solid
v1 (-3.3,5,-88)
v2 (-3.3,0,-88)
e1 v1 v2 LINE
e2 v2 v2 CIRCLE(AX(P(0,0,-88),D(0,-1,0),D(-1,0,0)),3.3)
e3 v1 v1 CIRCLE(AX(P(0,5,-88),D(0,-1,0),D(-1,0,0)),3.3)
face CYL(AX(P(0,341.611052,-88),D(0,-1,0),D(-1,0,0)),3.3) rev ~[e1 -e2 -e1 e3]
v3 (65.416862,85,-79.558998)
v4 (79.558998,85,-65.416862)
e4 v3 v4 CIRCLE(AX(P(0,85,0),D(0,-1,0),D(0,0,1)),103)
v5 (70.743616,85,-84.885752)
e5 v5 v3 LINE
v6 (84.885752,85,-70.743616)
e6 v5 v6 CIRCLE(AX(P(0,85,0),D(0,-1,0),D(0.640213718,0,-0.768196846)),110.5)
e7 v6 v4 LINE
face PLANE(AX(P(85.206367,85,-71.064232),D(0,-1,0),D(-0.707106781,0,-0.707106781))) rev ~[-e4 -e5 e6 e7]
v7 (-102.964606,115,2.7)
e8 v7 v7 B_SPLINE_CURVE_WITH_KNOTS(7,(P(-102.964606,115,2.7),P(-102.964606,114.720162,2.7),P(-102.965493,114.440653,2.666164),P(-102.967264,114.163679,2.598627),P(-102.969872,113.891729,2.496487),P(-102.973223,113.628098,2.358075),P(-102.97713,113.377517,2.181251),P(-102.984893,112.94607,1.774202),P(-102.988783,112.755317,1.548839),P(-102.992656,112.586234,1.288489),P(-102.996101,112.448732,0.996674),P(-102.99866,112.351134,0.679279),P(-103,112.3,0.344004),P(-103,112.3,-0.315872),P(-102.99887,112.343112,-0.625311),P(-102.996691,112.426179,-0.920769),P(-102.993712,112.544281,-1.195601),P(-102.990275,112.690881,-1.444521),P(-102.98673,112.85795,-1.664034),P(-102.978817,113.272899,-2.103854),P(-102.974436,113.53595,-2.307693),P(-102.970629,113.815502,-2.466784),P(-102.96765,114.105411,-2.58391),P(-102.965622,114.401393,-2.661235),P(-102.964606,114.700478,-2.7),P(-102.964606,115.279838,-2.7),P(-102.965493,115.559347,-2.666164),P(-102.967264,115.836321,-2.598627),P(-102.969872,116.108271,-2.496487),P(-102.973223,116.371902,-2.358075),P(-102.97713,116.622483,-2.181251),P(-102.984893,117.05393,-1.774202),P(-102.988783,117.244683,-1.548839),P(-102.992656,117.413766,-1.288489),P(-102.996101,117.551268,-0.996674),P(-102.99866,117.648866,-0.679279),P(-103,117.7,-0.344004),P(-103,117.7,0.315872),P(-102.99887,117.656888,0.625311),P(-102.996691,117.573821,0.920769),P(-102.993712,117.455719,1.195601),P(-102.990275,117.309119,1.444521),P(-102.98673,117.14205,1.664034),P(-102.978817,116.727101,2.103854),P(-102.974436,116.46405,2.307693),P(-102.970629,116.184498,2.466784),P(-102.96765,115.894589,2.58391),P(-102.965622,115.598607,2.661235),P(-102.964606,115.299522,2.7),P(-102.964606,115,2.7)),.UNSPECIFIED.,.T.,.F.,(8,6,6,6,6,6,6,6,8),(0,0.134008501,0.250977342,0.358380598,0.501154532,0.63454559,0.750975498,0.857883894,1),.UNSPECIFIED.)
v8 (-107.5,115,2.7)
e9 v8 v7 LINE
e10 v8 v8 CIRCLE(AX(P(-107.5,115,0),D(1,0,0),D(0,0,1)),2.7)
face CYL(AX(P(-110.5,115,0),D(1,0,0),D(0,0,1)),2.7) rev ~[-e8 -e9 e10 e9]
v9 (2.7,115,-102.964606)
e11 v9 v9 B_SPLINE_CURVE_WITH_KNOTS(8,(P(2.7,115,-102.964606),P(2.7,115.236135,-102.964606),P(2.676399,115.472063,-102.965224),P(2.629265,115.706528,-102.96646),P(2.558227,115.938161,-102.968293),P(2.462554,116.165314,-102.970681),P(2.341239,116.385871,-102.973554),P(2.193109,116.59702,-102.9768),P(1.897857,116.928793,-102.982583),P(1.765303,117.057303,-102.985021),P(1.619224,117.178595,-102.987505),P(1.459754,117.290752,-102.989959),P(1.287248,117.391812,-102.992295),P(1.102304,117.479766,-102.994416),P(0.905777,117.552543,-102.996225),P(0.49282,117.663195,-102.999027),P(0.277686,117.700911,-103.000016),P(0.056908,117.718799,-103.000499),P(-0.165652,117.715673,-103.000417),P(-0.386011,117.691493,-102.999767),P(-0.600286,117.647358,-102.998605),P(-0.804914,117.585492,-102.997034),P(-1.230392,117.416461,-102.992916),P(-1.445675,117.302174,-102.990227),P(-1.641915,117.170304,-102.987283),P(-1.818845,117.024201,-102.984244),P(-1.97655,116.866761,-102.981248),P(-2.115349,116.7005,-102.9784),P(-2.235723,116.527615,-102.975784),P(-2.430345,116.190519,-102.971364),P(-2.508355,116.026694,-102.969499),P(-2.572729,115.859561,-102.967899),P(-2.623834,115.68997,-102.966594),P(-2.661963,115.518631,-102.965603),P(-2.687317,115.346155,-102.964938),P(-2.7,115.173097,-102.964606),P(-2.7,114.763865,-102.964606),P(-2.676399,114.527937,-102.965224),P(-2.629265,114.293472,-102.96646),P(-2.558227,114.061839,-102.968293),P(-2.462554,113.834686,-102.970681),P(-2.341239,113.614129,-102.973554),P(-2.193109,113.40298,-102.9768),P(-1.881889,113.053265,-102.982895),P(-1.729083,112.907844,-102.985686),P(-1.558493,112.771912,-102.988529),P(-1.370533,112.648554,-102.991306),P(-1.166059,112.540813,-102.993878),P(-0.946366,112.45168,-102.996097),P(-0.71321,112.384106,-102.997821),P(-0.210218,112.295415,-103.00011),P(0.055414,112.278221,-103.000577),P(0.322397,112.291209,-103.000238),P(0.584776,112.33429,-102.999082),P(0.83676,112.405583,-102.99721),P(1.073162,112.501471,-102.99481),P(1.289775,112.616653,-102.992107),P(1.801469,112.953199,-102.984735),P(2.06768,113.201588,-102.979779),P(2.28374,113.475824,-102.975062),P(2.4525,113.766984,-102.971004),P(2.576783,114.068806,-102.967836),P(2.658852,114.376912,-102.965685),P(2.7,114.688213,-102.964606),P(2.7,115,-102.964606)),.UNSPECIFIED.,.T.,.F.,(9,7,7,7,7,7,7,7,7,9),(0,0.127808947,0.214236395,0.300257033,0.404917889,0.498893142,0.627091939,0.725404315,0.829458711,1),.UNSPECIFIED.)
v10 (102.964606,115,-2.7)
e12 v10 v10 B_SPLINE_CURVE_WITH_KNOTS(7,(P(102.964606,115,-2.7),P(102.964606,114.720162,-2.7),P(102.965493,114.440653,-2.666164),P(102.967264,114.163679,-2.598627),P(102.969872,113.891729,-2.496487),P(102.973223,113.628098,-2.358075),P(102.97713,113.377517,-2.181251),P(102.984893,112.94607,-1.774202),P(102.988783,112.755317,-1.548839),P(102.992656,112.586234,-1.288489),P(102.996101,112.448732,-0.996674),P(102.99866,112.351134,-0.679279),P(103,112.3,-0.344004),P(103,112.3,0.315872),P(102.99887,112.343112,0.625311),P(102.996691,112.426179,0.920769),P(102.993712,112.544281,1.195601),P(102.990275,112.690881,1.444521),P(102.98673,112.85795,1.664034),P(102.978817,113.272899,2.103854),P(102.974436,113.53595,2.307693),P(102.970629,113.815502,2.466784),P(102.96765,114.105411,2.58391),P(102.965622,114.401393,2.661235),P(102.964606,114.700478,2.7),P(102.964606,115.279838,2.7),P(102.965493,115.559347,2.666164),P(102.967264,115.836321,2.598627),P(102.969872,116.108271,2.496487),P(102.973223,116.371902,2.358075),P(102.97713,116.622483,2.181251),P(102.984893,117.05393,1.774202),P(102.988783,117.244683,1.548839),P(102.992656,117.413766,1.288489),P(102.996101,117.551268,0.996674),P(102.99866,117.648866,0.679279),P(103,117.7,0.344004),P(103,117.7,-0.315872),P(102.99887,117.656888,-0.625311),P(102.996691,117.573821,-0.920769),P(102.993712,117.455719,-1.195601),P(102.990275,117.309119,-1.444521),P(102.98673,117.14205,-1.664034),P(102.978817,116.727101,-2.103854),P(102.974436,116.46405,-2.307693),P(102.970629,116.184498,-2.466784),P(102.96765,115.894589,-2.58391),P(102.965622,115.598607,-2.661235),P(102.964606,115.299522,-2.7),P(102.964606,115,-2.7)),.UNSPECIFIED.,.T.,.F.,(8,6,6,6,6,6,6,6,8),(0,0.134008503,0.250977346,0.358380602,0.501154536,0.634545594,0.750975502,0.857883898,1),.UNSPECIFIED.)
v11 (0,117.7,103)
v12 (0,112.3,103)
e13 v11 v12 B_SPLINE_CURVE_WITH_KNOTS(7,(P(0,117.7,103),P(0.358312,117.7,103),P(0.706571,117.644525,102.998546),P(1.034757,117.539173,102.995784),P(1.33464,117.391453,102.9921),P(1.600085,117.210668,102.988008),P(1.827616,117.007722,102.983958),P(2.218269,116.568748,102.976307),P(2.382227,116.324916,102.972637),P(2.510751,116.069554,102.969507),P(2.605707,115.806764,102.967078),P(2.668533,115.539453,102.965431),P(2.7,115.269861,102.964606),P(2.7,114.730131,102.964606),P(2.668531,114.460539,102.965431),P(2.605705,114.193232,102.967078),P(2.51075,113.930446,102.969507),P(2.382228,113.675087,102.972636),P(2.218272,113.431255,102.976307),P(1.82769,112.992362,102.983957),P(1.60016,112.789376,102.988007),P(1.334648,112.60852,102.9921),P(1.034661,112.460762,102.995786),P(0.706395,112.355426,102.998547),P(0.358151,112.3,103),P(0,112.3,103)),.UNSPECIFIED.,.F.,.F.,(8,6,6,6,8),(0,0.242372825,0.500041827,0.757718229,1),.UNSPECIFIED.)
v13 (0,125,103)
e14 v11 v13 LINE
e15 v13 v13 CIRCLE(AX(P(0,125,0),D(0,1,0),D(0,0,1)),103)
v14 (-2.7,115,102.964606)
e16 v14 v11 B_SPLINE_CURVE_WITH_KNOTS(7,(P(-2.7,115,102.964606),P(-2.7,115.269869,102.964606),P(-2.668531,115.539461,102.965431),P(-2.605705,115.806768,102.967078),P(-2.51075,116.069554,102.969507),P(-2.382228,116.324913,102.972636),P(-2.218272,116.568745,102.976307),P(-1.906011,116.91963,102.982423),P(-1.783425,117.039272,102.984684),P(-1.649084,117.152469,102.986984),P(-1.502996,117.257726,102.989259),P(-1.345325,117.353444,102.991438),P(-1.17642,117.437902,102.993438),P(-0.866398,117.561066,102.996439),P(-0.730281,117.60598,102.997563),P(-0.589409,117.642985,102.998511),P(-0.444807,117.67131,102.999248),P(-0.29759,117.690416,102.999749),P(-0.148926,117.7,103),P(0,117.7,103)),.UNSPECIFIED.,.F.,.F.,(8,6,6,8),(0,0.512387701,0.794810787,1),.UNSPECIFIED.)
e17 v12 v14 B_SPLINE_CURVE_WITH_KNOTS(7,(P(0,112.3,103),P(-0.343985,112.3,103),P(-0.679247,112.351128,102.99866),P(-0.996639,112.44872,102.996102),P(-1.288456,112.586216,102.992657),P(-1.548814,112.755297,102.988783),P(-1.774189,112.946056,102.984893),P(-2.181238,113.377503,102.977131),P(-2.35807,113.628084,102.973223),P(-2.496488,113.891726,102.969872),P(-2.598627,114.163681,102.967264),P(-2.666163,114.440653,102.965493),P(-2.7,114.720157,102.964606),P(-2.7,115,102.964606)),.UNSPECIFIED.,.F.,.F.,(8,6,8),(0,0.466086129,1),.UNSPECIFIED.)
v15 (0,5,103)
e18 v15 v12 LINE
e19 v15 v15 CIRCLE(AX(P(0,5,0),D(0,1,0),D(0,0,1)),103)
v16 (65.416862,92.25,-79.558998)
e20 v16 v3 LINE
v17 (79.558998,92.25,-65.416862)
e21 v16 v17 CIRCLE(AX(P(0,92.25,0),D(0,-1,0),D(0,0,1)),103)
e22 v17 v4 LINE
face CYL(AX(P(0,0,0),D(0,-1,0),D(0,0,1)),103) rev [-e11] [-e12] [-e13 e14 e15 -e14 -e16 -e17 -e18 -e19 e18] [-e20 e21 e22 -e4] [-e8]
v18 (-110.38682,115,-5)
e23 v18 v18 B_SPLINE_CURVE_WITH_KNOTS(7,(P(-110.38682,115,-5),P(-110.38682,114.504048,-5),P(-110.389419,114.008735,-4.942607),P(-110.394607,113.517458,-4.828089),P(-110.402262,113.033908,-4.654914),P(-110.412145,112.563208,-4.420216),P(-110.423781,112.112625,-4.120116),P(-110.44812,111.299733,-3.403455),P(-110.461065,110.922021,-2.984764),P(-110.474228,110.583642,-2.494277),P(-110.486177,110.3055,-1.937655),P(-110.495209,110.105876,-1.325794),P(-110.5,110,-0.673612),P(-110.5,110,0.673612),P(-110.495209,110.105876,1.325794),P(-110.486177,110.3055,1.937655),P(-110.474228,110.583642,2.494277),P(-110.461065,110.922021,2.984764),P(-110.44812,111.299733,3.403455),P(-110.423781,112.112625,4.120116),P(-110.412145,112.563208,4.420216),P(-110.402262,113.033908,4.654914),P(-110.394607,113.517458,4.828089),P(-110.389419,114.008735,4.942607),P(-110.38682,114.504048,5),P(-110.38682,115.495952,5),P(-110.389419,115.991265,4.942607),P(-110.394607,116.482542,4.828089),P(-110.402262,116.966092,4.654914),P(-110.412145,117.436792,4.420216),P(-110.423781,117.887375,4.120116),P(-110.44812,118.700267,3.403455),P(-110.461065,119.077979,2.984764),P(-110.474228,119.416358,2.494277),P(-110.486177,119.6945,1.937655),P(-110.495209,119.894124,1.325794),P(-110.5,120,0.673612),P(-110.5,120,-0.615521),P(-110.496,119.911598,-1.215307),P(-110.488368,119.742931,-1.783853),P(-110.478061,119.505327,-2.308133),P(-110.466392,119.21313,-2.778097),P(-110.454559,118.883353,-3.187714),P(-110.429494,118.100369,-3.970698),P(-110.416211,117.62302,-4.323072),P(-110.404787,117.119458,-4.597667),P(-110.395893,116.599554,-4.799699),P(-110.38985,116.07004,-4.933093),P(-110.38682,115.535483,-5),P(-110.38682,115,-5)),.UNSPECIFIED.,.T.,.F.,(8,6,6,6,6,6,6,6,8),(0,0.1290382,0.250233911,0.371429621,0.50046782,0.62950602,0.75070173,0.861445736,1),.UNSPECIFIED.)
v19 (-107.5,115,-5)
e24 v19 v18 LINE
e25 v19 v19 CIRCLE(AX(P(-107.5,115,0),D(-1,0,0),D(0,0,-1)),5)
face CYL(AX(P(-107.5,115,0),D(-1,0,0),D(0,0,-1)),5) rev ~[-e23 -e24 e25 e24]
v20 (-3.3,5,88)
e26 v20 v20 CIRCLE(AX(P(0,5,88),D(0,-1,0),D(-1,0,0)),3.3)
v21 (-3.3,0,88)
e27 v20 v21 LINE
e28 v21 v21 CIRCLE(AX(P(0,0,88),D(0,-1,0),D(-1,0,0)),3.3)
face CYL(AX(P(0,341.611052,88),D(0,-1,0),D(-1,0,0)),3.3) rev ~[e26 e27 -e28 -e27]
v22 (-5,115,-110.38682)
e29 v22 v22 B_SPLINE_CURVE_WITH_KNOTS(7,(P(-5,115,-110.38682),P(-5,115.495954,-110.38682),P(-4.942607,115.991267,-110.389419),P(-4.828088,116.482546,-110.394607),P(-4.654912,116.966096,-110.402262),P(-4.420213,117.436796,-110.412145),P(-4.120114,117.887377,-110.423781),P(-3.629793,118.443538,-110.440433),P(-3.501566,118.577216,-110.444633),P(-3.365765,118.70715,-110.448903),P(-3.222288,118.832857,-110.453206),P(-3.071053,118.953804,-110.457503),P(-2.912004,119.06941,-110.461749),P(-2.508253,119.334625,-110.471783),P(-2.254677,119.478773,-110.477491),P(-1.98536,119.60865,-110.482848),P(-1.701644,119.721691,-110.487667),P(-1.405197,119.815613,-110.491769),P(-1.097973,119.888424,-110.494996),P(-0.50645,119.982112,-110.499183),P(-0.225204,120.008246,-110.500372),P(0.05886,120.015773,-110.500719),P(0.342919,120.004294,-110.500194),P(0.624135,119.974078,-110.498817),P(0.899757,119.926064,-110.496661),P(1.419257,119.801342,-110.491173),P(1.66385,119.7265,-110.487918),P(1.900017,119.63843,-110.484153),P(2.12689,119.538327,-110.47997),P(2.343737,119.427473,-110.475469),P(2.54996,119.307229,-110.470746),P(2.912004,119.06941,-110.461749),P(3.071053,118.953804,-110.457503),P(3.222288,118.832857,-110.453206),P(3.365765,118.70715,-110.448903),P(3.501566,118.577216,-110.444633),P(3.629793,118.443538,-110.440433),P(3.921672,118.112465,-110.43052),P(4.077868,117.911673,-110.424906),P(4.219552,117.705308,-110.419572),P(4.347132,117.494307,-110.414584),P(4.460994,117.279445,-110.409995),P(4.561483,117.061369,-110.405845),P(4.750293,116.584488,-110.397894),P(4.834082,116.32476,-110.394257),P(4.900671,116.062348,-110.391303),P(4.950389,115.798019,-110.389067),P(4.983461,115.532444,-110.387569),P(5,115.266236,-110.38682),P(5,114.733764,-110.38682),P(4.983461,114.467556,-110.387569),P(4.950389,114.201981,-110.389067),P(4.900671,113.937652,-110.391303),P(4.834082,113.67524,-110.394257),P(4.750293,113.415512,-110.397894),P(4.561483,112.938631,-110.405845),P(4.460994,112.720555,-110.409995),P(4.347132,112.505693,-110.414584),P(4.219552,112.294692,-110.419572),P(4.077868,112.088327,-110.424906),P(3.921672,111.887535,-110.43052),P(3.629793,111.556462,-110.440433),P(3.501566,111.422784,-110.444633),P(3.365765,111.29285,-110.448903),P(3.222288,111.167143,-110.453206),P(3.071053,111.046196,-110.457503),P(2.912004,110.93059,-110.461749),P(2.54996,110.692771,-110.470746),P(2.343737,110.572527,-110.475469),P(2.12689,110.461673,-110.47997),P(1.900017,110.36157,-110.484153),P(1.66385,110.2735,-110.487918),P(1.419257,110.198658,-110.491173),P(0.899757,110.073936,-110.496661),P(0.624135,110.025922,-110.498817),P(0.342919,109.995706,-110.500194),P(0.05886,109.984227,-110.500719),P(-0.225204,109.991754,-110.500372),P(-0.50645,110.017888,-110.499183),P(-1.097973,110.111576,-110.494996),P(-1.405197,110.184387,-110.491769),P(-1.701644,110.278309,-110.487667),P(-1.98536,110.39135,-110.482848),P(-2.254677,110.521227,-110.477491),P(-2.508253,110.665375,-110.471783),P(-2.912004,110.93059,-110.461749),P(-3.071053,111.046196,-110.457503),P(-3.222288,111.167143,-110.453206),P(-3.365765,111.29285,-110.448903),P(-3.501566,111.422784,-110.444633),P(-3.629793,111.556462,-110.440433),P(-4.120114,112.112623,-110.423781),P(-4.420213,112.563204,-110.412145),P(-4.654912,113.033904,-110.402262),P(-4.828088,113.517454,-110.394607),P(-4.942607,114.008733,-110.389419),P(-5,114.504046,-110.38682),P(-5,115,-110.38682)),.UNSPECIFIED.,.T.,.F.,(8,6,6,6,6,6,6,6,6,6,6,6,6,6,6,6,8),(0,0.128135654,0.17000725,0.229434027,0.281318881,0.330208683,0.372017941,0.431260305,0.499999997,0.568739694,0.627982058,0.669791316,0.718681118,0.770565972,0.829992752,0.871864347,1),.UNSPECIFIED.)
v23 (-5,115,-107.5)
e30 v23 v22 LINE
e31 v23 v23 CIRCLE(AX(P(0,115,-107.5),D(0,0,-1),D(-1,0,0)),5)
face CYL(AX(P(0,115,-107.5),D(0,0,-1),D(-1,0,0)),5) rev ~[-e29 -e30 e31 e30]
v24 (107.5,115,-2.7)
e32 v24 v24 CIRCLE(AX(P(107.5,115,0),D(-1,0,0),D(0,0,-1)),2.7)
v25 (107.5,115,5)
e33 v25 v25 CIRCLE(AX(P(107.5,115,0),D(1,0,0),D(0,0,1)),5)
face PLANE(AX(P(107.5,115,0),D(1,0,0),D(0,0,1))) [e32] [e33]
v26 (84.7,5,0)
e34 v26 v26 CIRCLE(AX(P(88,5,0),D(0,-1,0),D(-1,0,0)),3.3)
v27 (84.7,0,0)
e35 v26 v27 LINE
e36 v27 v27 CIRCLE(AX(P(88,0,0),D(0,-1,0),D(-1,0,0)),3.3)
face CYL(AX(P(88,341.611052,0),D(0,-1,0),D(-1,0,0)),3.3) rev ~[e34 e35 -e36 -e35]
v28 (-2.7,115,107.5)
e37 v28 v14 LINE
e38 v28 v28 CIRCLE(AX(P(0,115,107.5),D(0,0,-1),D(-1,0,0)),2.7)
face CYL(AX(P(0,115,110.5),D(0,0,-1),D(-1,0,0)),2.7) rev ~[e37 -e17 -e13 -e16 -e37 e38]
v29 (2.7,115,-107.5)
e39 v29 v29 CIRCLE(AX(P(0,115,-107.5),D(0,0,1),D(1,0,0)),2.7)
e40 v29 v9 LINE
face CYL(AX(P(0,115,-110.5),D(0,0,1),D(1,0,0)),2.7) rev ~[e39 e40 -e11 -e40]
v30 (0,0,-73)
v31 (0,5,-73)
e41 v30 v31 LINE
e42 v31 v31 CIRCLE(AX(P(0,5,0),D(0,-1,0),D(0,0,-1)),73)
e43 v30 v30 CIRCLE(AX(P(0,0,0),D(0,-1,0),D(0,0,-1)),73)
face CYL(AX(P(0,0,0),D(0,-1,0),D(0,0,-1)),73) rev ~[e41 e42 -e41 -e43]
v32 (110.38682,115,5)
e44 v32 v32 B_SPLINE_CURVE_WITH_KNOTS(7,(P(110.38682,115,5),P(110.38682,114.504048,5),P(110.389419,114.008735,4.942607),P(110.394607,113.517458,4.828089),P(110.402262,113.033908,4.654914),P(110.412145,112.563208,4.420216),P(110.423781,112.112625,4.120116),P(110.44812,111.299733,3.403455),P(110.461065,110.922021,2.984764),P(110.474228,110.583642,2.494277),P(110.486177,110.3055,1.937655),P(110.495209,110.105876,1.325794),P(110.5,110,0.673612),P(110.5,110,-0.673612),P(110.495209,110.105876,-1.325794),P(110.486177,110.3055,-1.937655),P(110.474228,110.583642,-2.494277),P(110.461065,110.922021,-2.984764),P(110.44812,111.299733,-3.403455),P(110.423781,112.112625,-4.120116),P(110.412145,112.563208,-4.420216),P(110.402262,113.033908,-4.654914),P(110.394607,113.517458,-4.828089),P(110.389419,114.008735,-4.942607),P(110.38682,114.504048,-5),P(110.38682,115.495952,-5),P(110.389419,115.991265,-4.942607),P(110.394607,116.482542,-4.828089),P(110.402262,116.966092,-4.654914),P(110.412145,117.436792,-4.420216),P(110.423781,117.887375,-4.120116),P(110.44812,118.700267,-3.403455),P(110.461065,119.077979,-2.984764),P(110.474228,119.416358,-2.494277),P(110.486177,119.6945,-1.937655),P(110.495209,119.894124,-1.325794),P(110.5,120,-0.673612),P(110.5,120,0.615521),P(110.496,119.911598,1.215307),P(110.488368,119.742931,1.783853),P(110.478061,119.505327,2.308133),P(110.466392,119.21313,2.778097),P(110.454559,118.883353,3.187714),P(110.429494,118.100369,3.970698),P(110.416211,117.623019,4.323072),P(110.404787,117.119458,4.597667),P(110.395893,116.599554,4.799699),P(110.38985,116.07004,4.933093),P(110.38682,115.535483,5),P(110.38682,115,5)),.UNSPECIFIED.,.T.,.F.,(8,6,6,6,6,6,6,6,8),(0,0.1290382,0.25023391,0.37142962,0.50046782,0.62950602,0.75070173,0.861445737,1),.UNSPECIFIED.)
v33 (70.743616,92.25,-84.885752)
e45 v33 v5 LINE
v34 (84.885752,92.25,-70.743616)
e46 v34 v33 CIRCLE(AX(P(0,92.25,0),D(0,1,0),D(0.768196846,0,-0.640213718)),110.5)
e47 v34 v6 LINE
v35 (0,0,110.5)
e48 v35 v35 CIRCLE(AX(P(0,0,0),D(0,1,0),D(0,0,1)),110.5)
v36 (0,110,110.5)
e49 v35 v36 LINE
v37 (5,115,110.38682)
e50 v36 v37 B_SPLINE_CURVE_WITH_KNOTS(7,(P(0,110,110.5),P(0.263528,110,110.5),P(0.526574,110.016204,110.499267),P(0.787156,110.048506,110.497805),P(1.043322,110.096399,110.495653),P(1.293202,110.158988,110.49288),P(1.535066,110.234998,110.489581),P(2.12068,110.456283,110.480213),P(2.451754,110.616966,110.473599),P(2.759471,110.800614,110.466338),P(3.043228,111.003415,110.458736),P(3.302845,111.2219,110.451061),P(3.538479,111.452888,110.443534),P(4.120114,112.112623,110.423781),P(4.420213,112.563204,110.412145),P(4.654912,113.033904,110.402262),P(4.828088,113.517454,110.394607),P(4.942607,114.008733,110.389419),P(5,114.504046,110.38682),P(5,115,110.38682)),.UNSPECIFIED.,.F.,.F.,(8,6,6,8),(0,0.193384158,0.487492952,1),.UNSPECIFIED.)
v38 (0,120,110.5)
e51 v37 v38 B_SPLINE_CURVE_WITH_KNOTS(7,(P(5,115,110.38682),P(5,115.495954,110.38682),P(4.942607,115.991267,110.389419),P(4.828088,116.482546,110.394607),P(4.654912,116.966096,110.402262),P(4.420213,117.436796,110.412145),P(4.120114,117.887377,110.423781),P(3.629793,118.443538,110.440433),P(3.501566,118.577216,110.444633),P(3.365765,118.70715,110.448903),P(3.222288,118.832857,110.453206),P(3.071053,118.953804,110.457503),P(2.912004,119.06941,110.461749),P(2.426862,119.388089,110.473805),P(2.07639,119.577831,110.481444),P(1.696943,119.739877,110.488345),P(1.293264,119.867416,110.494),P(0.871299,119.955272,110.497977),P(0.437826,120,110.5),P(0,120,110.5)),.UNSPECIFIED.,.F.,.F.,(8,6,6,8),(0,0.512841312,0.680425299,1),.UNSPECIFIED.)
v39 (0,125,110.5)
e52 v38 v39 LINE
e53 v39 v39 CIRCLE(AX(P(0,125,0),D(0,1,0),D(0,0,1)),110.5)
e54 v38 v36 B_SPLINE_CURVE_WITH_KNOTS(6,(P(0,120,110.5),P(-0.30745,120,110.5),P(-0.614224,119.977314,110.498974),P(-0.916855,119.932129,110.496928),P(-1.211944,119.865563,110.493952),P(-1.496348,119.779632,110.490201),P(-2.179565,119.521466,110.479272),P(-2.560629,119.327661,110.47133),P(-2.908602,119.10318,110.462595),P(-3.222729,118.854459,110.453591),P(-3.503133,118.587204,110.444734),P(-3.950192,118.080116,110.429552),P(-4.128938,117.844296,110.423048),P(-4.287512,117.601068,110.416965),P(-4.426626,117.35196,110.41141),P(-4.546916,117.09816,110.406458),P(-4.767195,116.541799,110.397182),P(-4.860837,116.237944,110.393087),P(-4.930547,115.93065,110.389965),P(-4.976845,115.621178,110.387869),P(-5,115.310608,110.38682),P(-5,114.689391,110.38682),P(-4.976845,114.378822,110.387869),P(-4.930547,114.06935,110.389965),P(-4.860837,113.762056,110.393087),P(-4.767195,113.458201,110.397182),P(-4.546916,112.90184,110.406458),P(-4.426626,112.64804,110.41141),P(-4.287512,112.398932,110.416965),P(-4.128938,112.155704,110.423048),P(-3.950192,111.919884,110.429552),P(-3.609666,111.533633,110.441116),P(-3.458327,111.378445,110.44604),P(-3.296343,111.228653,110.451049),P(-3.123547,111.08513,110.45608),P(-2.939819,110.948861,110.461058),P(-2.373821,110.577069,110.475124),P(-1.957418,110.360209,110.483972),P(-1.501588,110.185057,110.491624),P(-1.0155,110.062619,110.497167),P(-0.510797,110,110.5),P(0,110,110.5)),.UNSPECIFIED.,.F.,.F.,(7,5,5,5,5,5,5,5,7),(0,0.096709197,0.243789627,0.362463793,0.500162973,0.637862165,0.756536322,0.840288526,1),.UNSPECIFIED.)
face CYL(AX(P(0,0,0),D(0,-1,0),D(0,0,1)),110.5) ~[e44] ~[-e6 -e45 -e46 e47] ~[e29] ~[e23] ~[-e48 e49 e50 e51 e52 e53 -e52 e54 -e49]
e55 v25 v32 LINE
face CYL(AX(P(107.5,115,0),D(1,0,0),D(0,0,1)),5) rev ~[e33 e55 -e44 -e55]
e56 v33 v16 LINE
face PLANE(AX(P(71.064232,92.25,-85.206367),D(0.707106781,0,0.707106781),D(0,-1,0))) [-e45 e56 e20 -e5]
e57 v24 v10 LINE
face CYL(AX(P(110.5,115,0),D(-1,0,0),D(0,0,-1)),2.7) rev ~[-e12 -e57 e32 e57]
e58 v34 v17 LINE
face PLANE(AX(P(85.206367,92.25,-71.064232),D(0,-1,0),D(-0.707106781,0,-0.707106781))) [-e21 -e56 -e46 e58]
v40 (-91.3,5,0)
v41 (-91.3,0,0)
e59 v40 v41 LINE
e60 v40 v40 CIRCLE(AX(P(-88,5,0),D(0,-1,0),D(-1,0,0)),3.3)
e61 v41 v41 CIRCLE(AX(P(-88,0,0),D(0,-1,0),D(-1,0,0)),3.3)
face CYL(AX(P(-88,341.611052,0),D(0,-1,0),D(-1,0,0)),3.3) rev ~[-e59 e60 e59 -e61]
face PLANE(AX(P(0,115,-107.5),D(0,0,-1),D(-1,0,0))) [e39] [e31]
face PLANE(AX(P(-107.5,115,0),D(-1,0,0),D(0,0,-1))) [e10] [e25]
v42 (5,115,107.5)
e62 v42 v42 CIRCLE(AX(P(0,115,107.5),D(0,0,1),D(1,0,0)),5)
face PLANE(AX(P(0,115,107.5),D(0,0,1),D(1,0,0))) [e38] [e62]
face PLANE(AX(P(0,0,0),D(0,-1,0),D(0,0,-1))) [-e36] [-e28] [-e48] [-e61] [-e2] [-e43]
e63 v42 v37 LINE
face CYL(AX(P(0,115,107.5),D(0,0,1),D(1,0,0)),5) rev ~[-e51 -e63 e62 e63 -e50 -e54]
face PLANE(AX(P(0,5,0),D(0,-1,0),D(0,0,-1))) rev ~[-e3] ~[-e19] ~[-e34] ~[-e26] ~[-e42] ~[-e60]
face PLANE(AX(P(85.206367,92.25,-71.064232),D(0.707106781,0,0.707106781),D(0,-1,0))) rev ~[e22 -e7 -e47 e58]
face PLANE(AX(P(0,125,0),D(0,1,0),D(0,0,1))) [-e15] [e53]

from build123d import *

# Parameters (mm, degrees)
SCHIZZO1_R                                           = 110.5
SCHIZZO1_R_2                                         = 103
ESTRUSIONE_ESTRUSIONE1_DEPTH                         = 125
FORO_LAMATO_PER_BULLONE_M12_A_TESTA_ESAG_D           = 5.4
FORO_LAMATO_PER_BULLONE_M12_A_TESTA_ESAG_DEPTH       = 8.1
FORO_LAMATO_PER_BULLONE_M12_A_TESTA_ESAG_CBORE_D     = 10
FORO_LAMATO_PER_BULLONE_M12_A_TESTA_ESAG_CBORE_DEPTH = 3
FORO_LAMATO_PER_BULLONE_M12_A_TESTA_ESAG_TIP         = 1.622323671
FORO_LAMATO_PER_BULLONE_M12_A_TESTA_2_D              = 5.4
FORO_LAMATO_PER_BULLONE_M12_A_TESTA_2_DEPTH          = 8.1
FORO_LAMATO_PER_BULLONE_M12_A_TESTA_2_CBORE_D        = 10
FORO_LAMATO_PER_BULLONE_M12_A_TESTA_2_CBORE_DEPTH    = 3
FORO_LAMATO_PER_BULLONE_M12_A_TESTA_2_TIP            = 1.622323671
FORO_LAMATO_PER_BULLONE_M12_A_TESTA_3_D              = 5.4
FORO_LAMATO_PER_BULLONE_M12_A_TESTA_3_DEPTH          = 8.1
FORO_LAMATO_PER_BULLONE_M12_A_TESTA_3_CBORE_D        = 10
FORO_LAMATO_PER_BULLONE_M12_A_TESTA_3_CBORE_DEPTH    = 3
FORO_LAMATO_PER_BULLONE_M12_A_TESTA_3_TIP            = 1.622323671
FORO_LAMATO_PER_BULLONE_M12_A_TESTA_4_D              = 5.4
FORO_LAMATO_PER_BULLONE_M12_A_TESTA_4_DEPTH          = 8.1
FORO_LAMATO_PER_BULLONE_M12_A_TESTA_4_CBORE_D        = 10
FORO_LAMATO_PER_BULLONE_M12_A_TESTA_4_CBORE_DEPTH    = 3
FORO_LAMATO_PER_BULLONE_M12_A_TESTA_4_TIP            = 1.622323671
SCHIZZO4_R                                           = 103
SCHIZZO4_R_2                                         = 73
ESTRUSIONE_ESTRUSIONE2_DEPTH                         = 5
FORO_PER_VITE_M6_1_D                                 = 6.6
SCHIZZO7_W                                           = 7.25
SCHIZZO7_H                                           = 20
TAGLIO_ESTRUSIONE1_DEPTH                             = 10


with BuildPart() as part:
    # Schizzo1 → Estrusione-Estrusione1 (new body)
    with BuildSketch(Plane(origin=(0, 0, 0), x_dir=(1, 0, 0), z_dir=(0, 1, 0))):
        with Locations(Location((0, 0, 0), (0, 0, 270))):
            Circle(SCHIZZO1_R)
        with Locations(Location((0, 0, 0), (0, 0, 270))):
            Circle(SCHIZZO1_R_2, mode=Mode.SUBTRACT)
    extrude(amount=ESTRUSIONE_ESTRUSIONE1_DEPTH)

    # Foro lamato per Bullone M12 a testa esagonale (Classe superiore)-1
    with Locations(Plane(origin=(0, 115, 110.5), x_dir=(1, 0, 0), z_dir=(0, 0, 1))):
        with Locations((0, 0)):
            CounterBoreHole(FORO_LAMATO_PER_BULLONE_M12_A_TESTA_ESAG_D / 2, FORO_LAMATO_PER_BULLONE_M12_A_TESTA_ESAG_CBORE_D / 2, FORO_LAMATO_PER_BULLONE_M12_A_TESTA_ESAG_CBORE_DEPTH, depth=FORO_LAMATO_PER_BULLONE_M12_A_TESTA_ESAG_DEPTH)
            with Locations((0, 0, -(FORO_LAMATO_PER_BULLONE_M12_A_TESTA_ESAG_DEPTH + FORO_LAMATO_PER_BULLONE_M12_A_TESTA_ESAG_TIP / 2))):  # 118° drill point
                Cone(0, FORO_LAMATO_PER_BULLONE_M12_A_TESTA_ESAG_D / 2, FORO_LAMATO_PER_BULLONE_M12_A_TESTA_ESAG_TIP, mode=Mode.SUBTRACT)

    # Foro lamato per Bullone M12 a testa  2
    with Locations(Plane(origin=(110.5, 115, 0), x_dir=(0, 0, 1), z_dir=(1, 0, 0))):
        with Locations((0, 0)):
            CounterBoreHole(FORO_LAMATO_PER_BULLONE_M12_A_TESTA_2_D / 2, FORO_LAMATO_PER_BULLONE_M12_A_TESTA_2_CBORE_D / 2, FORO_LAMATO_PER_BULLONE_M12_A_TESTA_2_CBORE_DEPTH, depth=FORO_LAMATO_PER_BULLONE_M12_A_TESTA_2_DEPTH)
            with Locations((0, 0, -(FORO_LAMATO_PER_BULLONE_M12_A_TESTA_2_DEPTH + FORO_LAMATO_PER_BULLONE_M12_A_TESTA_2_TIP / 2))):  # 118° drill point
                Cone(0, FORO_LAMATO_PER_BULLONE_M12_A_TESTA_2_D / 2, FORO_LAMATO_PER_BULLONE_M12_A_TESTA_2_TIP, mode=Mode.SUBTRACT)

    # Foro lamato per Bullone M12 a testa  3
    with Locations(Plane(origin=(0, 115, -110.5), x_dir=(-1, 0, 0), z_dir=(0, 0, -1))):
        with Locations((0, 0)):
            CounterBoreHole(FORO_LAMATO_PER_BULLONE_M12_A_TESTA_3_D / 2, FORO_LAMATO_PER_BULLONE_M12_A_TESTA_3_CBORE_D / 2, FORO_LAMATO_PER_BULLONE_M12_A_TESTA_3_CBORE_DEPTH, depth=FORO_LAMATO_PER_BULLONE_M12_A_TESTA_3_DEPTH)
            with Locations((0, 0, -(FORO_LAMATO_PER_BULLONE_M12_A_TESTA_3_DEPTH + FORO_LAMATO_PER_BULLONE_M12_A_TESTA_3_TIP / 2))):  # 118° drill point
                Cone(0, FORO_LAMATO_PER_BULLONE_M12_A_TESTA_3_D / 2, FORO_LAMATO_PER_BULLONE_M12_A_TESTA_3_TIP, mode=Mode.SUBTRACT)

    # Foro lamato per Bullone M12 a testa  4
    with Locations(Plane(origin=(-110.5, 115, 0), x_dir=(0, 0, -1), z_dir=(-1, 0, 0))):
        with Locations((0, 0)):
            CounterBoreHole(FORO_LAMATO_PER_BULLONE_M12_A_TESTA_4_D / 2, FORO_LAMATO_PER_BULLONE_M12_A_TESTA_4_CBORE_D / 2, FORO_LAMATO_PER_BULLONE_M12_A_TESTA_4_CBORE_DEPTH, depth=FORO_LAMATO_PER_BULLONE_M12_A_TESTA_4_DEPTH)
            with Locations((0, 0, -(FORO_LAMATO_PER_BULLONE_M12_A_TESTA_4_DEPTH + FORO_LAMATO_PER_BULLONE_M12_A_TESTA_4_TIP / 2))):  # 118° drill point
                Cone(0, FORO_LAMATO_PER_BULLONE_M12_A_TESTA_4_D / 2, FORO_LAMATO_PER_BULLONE_M12_A_TESTA_4_TIP, mode=Mode.SUBTRACT)

    # Schizzo4 → Estrusione-Estrusione2 (add)
    with BuildSketch(Plane.XZ):
        with Locations(Location((0, 0, 0), (0, 0, 270))):
            Circle(SCHIZZO4_R)
        with Locations(Location((0, 0, 0), (0, 0, 270))):
            Circle(SCHIZZO4_R_2, mode=Mode.SUBTRACT)
    extrude(amount=-ESTRUSIONE_ESTRUSIONE2_DEPTH)

    # Foro per Vite M6-1 (through all)
    with Locations(Plane(origin=(0, 5, 0), x_dir=(1, 0, 0), z_dir=(0, 1, 0))):
        with Locations((0, -88), (-88, 0), (88, 0), (0, 88)):
            Hole(FORO_PER_VITE_M6_1_D / 2)

    # Schizzo7 → Taglio-Estrusione1 (cut)
    with BuildSketch(Plane(origin=(78.135299321, 0, -78.135299321), x_dir=(0, -1, 0), z_dir=(0.7071067811865488, 0, -0.7071067811865464))):
        with Locations((-88.625, 0)):
            Rectangle(SCHIZZO7_W, SCHIZZO7_H)
    extrude(amount=-TAGLIO_ESTRUSIONE1_DEPTH, mode=Mode.SUBTRACT)


solid = part.part
